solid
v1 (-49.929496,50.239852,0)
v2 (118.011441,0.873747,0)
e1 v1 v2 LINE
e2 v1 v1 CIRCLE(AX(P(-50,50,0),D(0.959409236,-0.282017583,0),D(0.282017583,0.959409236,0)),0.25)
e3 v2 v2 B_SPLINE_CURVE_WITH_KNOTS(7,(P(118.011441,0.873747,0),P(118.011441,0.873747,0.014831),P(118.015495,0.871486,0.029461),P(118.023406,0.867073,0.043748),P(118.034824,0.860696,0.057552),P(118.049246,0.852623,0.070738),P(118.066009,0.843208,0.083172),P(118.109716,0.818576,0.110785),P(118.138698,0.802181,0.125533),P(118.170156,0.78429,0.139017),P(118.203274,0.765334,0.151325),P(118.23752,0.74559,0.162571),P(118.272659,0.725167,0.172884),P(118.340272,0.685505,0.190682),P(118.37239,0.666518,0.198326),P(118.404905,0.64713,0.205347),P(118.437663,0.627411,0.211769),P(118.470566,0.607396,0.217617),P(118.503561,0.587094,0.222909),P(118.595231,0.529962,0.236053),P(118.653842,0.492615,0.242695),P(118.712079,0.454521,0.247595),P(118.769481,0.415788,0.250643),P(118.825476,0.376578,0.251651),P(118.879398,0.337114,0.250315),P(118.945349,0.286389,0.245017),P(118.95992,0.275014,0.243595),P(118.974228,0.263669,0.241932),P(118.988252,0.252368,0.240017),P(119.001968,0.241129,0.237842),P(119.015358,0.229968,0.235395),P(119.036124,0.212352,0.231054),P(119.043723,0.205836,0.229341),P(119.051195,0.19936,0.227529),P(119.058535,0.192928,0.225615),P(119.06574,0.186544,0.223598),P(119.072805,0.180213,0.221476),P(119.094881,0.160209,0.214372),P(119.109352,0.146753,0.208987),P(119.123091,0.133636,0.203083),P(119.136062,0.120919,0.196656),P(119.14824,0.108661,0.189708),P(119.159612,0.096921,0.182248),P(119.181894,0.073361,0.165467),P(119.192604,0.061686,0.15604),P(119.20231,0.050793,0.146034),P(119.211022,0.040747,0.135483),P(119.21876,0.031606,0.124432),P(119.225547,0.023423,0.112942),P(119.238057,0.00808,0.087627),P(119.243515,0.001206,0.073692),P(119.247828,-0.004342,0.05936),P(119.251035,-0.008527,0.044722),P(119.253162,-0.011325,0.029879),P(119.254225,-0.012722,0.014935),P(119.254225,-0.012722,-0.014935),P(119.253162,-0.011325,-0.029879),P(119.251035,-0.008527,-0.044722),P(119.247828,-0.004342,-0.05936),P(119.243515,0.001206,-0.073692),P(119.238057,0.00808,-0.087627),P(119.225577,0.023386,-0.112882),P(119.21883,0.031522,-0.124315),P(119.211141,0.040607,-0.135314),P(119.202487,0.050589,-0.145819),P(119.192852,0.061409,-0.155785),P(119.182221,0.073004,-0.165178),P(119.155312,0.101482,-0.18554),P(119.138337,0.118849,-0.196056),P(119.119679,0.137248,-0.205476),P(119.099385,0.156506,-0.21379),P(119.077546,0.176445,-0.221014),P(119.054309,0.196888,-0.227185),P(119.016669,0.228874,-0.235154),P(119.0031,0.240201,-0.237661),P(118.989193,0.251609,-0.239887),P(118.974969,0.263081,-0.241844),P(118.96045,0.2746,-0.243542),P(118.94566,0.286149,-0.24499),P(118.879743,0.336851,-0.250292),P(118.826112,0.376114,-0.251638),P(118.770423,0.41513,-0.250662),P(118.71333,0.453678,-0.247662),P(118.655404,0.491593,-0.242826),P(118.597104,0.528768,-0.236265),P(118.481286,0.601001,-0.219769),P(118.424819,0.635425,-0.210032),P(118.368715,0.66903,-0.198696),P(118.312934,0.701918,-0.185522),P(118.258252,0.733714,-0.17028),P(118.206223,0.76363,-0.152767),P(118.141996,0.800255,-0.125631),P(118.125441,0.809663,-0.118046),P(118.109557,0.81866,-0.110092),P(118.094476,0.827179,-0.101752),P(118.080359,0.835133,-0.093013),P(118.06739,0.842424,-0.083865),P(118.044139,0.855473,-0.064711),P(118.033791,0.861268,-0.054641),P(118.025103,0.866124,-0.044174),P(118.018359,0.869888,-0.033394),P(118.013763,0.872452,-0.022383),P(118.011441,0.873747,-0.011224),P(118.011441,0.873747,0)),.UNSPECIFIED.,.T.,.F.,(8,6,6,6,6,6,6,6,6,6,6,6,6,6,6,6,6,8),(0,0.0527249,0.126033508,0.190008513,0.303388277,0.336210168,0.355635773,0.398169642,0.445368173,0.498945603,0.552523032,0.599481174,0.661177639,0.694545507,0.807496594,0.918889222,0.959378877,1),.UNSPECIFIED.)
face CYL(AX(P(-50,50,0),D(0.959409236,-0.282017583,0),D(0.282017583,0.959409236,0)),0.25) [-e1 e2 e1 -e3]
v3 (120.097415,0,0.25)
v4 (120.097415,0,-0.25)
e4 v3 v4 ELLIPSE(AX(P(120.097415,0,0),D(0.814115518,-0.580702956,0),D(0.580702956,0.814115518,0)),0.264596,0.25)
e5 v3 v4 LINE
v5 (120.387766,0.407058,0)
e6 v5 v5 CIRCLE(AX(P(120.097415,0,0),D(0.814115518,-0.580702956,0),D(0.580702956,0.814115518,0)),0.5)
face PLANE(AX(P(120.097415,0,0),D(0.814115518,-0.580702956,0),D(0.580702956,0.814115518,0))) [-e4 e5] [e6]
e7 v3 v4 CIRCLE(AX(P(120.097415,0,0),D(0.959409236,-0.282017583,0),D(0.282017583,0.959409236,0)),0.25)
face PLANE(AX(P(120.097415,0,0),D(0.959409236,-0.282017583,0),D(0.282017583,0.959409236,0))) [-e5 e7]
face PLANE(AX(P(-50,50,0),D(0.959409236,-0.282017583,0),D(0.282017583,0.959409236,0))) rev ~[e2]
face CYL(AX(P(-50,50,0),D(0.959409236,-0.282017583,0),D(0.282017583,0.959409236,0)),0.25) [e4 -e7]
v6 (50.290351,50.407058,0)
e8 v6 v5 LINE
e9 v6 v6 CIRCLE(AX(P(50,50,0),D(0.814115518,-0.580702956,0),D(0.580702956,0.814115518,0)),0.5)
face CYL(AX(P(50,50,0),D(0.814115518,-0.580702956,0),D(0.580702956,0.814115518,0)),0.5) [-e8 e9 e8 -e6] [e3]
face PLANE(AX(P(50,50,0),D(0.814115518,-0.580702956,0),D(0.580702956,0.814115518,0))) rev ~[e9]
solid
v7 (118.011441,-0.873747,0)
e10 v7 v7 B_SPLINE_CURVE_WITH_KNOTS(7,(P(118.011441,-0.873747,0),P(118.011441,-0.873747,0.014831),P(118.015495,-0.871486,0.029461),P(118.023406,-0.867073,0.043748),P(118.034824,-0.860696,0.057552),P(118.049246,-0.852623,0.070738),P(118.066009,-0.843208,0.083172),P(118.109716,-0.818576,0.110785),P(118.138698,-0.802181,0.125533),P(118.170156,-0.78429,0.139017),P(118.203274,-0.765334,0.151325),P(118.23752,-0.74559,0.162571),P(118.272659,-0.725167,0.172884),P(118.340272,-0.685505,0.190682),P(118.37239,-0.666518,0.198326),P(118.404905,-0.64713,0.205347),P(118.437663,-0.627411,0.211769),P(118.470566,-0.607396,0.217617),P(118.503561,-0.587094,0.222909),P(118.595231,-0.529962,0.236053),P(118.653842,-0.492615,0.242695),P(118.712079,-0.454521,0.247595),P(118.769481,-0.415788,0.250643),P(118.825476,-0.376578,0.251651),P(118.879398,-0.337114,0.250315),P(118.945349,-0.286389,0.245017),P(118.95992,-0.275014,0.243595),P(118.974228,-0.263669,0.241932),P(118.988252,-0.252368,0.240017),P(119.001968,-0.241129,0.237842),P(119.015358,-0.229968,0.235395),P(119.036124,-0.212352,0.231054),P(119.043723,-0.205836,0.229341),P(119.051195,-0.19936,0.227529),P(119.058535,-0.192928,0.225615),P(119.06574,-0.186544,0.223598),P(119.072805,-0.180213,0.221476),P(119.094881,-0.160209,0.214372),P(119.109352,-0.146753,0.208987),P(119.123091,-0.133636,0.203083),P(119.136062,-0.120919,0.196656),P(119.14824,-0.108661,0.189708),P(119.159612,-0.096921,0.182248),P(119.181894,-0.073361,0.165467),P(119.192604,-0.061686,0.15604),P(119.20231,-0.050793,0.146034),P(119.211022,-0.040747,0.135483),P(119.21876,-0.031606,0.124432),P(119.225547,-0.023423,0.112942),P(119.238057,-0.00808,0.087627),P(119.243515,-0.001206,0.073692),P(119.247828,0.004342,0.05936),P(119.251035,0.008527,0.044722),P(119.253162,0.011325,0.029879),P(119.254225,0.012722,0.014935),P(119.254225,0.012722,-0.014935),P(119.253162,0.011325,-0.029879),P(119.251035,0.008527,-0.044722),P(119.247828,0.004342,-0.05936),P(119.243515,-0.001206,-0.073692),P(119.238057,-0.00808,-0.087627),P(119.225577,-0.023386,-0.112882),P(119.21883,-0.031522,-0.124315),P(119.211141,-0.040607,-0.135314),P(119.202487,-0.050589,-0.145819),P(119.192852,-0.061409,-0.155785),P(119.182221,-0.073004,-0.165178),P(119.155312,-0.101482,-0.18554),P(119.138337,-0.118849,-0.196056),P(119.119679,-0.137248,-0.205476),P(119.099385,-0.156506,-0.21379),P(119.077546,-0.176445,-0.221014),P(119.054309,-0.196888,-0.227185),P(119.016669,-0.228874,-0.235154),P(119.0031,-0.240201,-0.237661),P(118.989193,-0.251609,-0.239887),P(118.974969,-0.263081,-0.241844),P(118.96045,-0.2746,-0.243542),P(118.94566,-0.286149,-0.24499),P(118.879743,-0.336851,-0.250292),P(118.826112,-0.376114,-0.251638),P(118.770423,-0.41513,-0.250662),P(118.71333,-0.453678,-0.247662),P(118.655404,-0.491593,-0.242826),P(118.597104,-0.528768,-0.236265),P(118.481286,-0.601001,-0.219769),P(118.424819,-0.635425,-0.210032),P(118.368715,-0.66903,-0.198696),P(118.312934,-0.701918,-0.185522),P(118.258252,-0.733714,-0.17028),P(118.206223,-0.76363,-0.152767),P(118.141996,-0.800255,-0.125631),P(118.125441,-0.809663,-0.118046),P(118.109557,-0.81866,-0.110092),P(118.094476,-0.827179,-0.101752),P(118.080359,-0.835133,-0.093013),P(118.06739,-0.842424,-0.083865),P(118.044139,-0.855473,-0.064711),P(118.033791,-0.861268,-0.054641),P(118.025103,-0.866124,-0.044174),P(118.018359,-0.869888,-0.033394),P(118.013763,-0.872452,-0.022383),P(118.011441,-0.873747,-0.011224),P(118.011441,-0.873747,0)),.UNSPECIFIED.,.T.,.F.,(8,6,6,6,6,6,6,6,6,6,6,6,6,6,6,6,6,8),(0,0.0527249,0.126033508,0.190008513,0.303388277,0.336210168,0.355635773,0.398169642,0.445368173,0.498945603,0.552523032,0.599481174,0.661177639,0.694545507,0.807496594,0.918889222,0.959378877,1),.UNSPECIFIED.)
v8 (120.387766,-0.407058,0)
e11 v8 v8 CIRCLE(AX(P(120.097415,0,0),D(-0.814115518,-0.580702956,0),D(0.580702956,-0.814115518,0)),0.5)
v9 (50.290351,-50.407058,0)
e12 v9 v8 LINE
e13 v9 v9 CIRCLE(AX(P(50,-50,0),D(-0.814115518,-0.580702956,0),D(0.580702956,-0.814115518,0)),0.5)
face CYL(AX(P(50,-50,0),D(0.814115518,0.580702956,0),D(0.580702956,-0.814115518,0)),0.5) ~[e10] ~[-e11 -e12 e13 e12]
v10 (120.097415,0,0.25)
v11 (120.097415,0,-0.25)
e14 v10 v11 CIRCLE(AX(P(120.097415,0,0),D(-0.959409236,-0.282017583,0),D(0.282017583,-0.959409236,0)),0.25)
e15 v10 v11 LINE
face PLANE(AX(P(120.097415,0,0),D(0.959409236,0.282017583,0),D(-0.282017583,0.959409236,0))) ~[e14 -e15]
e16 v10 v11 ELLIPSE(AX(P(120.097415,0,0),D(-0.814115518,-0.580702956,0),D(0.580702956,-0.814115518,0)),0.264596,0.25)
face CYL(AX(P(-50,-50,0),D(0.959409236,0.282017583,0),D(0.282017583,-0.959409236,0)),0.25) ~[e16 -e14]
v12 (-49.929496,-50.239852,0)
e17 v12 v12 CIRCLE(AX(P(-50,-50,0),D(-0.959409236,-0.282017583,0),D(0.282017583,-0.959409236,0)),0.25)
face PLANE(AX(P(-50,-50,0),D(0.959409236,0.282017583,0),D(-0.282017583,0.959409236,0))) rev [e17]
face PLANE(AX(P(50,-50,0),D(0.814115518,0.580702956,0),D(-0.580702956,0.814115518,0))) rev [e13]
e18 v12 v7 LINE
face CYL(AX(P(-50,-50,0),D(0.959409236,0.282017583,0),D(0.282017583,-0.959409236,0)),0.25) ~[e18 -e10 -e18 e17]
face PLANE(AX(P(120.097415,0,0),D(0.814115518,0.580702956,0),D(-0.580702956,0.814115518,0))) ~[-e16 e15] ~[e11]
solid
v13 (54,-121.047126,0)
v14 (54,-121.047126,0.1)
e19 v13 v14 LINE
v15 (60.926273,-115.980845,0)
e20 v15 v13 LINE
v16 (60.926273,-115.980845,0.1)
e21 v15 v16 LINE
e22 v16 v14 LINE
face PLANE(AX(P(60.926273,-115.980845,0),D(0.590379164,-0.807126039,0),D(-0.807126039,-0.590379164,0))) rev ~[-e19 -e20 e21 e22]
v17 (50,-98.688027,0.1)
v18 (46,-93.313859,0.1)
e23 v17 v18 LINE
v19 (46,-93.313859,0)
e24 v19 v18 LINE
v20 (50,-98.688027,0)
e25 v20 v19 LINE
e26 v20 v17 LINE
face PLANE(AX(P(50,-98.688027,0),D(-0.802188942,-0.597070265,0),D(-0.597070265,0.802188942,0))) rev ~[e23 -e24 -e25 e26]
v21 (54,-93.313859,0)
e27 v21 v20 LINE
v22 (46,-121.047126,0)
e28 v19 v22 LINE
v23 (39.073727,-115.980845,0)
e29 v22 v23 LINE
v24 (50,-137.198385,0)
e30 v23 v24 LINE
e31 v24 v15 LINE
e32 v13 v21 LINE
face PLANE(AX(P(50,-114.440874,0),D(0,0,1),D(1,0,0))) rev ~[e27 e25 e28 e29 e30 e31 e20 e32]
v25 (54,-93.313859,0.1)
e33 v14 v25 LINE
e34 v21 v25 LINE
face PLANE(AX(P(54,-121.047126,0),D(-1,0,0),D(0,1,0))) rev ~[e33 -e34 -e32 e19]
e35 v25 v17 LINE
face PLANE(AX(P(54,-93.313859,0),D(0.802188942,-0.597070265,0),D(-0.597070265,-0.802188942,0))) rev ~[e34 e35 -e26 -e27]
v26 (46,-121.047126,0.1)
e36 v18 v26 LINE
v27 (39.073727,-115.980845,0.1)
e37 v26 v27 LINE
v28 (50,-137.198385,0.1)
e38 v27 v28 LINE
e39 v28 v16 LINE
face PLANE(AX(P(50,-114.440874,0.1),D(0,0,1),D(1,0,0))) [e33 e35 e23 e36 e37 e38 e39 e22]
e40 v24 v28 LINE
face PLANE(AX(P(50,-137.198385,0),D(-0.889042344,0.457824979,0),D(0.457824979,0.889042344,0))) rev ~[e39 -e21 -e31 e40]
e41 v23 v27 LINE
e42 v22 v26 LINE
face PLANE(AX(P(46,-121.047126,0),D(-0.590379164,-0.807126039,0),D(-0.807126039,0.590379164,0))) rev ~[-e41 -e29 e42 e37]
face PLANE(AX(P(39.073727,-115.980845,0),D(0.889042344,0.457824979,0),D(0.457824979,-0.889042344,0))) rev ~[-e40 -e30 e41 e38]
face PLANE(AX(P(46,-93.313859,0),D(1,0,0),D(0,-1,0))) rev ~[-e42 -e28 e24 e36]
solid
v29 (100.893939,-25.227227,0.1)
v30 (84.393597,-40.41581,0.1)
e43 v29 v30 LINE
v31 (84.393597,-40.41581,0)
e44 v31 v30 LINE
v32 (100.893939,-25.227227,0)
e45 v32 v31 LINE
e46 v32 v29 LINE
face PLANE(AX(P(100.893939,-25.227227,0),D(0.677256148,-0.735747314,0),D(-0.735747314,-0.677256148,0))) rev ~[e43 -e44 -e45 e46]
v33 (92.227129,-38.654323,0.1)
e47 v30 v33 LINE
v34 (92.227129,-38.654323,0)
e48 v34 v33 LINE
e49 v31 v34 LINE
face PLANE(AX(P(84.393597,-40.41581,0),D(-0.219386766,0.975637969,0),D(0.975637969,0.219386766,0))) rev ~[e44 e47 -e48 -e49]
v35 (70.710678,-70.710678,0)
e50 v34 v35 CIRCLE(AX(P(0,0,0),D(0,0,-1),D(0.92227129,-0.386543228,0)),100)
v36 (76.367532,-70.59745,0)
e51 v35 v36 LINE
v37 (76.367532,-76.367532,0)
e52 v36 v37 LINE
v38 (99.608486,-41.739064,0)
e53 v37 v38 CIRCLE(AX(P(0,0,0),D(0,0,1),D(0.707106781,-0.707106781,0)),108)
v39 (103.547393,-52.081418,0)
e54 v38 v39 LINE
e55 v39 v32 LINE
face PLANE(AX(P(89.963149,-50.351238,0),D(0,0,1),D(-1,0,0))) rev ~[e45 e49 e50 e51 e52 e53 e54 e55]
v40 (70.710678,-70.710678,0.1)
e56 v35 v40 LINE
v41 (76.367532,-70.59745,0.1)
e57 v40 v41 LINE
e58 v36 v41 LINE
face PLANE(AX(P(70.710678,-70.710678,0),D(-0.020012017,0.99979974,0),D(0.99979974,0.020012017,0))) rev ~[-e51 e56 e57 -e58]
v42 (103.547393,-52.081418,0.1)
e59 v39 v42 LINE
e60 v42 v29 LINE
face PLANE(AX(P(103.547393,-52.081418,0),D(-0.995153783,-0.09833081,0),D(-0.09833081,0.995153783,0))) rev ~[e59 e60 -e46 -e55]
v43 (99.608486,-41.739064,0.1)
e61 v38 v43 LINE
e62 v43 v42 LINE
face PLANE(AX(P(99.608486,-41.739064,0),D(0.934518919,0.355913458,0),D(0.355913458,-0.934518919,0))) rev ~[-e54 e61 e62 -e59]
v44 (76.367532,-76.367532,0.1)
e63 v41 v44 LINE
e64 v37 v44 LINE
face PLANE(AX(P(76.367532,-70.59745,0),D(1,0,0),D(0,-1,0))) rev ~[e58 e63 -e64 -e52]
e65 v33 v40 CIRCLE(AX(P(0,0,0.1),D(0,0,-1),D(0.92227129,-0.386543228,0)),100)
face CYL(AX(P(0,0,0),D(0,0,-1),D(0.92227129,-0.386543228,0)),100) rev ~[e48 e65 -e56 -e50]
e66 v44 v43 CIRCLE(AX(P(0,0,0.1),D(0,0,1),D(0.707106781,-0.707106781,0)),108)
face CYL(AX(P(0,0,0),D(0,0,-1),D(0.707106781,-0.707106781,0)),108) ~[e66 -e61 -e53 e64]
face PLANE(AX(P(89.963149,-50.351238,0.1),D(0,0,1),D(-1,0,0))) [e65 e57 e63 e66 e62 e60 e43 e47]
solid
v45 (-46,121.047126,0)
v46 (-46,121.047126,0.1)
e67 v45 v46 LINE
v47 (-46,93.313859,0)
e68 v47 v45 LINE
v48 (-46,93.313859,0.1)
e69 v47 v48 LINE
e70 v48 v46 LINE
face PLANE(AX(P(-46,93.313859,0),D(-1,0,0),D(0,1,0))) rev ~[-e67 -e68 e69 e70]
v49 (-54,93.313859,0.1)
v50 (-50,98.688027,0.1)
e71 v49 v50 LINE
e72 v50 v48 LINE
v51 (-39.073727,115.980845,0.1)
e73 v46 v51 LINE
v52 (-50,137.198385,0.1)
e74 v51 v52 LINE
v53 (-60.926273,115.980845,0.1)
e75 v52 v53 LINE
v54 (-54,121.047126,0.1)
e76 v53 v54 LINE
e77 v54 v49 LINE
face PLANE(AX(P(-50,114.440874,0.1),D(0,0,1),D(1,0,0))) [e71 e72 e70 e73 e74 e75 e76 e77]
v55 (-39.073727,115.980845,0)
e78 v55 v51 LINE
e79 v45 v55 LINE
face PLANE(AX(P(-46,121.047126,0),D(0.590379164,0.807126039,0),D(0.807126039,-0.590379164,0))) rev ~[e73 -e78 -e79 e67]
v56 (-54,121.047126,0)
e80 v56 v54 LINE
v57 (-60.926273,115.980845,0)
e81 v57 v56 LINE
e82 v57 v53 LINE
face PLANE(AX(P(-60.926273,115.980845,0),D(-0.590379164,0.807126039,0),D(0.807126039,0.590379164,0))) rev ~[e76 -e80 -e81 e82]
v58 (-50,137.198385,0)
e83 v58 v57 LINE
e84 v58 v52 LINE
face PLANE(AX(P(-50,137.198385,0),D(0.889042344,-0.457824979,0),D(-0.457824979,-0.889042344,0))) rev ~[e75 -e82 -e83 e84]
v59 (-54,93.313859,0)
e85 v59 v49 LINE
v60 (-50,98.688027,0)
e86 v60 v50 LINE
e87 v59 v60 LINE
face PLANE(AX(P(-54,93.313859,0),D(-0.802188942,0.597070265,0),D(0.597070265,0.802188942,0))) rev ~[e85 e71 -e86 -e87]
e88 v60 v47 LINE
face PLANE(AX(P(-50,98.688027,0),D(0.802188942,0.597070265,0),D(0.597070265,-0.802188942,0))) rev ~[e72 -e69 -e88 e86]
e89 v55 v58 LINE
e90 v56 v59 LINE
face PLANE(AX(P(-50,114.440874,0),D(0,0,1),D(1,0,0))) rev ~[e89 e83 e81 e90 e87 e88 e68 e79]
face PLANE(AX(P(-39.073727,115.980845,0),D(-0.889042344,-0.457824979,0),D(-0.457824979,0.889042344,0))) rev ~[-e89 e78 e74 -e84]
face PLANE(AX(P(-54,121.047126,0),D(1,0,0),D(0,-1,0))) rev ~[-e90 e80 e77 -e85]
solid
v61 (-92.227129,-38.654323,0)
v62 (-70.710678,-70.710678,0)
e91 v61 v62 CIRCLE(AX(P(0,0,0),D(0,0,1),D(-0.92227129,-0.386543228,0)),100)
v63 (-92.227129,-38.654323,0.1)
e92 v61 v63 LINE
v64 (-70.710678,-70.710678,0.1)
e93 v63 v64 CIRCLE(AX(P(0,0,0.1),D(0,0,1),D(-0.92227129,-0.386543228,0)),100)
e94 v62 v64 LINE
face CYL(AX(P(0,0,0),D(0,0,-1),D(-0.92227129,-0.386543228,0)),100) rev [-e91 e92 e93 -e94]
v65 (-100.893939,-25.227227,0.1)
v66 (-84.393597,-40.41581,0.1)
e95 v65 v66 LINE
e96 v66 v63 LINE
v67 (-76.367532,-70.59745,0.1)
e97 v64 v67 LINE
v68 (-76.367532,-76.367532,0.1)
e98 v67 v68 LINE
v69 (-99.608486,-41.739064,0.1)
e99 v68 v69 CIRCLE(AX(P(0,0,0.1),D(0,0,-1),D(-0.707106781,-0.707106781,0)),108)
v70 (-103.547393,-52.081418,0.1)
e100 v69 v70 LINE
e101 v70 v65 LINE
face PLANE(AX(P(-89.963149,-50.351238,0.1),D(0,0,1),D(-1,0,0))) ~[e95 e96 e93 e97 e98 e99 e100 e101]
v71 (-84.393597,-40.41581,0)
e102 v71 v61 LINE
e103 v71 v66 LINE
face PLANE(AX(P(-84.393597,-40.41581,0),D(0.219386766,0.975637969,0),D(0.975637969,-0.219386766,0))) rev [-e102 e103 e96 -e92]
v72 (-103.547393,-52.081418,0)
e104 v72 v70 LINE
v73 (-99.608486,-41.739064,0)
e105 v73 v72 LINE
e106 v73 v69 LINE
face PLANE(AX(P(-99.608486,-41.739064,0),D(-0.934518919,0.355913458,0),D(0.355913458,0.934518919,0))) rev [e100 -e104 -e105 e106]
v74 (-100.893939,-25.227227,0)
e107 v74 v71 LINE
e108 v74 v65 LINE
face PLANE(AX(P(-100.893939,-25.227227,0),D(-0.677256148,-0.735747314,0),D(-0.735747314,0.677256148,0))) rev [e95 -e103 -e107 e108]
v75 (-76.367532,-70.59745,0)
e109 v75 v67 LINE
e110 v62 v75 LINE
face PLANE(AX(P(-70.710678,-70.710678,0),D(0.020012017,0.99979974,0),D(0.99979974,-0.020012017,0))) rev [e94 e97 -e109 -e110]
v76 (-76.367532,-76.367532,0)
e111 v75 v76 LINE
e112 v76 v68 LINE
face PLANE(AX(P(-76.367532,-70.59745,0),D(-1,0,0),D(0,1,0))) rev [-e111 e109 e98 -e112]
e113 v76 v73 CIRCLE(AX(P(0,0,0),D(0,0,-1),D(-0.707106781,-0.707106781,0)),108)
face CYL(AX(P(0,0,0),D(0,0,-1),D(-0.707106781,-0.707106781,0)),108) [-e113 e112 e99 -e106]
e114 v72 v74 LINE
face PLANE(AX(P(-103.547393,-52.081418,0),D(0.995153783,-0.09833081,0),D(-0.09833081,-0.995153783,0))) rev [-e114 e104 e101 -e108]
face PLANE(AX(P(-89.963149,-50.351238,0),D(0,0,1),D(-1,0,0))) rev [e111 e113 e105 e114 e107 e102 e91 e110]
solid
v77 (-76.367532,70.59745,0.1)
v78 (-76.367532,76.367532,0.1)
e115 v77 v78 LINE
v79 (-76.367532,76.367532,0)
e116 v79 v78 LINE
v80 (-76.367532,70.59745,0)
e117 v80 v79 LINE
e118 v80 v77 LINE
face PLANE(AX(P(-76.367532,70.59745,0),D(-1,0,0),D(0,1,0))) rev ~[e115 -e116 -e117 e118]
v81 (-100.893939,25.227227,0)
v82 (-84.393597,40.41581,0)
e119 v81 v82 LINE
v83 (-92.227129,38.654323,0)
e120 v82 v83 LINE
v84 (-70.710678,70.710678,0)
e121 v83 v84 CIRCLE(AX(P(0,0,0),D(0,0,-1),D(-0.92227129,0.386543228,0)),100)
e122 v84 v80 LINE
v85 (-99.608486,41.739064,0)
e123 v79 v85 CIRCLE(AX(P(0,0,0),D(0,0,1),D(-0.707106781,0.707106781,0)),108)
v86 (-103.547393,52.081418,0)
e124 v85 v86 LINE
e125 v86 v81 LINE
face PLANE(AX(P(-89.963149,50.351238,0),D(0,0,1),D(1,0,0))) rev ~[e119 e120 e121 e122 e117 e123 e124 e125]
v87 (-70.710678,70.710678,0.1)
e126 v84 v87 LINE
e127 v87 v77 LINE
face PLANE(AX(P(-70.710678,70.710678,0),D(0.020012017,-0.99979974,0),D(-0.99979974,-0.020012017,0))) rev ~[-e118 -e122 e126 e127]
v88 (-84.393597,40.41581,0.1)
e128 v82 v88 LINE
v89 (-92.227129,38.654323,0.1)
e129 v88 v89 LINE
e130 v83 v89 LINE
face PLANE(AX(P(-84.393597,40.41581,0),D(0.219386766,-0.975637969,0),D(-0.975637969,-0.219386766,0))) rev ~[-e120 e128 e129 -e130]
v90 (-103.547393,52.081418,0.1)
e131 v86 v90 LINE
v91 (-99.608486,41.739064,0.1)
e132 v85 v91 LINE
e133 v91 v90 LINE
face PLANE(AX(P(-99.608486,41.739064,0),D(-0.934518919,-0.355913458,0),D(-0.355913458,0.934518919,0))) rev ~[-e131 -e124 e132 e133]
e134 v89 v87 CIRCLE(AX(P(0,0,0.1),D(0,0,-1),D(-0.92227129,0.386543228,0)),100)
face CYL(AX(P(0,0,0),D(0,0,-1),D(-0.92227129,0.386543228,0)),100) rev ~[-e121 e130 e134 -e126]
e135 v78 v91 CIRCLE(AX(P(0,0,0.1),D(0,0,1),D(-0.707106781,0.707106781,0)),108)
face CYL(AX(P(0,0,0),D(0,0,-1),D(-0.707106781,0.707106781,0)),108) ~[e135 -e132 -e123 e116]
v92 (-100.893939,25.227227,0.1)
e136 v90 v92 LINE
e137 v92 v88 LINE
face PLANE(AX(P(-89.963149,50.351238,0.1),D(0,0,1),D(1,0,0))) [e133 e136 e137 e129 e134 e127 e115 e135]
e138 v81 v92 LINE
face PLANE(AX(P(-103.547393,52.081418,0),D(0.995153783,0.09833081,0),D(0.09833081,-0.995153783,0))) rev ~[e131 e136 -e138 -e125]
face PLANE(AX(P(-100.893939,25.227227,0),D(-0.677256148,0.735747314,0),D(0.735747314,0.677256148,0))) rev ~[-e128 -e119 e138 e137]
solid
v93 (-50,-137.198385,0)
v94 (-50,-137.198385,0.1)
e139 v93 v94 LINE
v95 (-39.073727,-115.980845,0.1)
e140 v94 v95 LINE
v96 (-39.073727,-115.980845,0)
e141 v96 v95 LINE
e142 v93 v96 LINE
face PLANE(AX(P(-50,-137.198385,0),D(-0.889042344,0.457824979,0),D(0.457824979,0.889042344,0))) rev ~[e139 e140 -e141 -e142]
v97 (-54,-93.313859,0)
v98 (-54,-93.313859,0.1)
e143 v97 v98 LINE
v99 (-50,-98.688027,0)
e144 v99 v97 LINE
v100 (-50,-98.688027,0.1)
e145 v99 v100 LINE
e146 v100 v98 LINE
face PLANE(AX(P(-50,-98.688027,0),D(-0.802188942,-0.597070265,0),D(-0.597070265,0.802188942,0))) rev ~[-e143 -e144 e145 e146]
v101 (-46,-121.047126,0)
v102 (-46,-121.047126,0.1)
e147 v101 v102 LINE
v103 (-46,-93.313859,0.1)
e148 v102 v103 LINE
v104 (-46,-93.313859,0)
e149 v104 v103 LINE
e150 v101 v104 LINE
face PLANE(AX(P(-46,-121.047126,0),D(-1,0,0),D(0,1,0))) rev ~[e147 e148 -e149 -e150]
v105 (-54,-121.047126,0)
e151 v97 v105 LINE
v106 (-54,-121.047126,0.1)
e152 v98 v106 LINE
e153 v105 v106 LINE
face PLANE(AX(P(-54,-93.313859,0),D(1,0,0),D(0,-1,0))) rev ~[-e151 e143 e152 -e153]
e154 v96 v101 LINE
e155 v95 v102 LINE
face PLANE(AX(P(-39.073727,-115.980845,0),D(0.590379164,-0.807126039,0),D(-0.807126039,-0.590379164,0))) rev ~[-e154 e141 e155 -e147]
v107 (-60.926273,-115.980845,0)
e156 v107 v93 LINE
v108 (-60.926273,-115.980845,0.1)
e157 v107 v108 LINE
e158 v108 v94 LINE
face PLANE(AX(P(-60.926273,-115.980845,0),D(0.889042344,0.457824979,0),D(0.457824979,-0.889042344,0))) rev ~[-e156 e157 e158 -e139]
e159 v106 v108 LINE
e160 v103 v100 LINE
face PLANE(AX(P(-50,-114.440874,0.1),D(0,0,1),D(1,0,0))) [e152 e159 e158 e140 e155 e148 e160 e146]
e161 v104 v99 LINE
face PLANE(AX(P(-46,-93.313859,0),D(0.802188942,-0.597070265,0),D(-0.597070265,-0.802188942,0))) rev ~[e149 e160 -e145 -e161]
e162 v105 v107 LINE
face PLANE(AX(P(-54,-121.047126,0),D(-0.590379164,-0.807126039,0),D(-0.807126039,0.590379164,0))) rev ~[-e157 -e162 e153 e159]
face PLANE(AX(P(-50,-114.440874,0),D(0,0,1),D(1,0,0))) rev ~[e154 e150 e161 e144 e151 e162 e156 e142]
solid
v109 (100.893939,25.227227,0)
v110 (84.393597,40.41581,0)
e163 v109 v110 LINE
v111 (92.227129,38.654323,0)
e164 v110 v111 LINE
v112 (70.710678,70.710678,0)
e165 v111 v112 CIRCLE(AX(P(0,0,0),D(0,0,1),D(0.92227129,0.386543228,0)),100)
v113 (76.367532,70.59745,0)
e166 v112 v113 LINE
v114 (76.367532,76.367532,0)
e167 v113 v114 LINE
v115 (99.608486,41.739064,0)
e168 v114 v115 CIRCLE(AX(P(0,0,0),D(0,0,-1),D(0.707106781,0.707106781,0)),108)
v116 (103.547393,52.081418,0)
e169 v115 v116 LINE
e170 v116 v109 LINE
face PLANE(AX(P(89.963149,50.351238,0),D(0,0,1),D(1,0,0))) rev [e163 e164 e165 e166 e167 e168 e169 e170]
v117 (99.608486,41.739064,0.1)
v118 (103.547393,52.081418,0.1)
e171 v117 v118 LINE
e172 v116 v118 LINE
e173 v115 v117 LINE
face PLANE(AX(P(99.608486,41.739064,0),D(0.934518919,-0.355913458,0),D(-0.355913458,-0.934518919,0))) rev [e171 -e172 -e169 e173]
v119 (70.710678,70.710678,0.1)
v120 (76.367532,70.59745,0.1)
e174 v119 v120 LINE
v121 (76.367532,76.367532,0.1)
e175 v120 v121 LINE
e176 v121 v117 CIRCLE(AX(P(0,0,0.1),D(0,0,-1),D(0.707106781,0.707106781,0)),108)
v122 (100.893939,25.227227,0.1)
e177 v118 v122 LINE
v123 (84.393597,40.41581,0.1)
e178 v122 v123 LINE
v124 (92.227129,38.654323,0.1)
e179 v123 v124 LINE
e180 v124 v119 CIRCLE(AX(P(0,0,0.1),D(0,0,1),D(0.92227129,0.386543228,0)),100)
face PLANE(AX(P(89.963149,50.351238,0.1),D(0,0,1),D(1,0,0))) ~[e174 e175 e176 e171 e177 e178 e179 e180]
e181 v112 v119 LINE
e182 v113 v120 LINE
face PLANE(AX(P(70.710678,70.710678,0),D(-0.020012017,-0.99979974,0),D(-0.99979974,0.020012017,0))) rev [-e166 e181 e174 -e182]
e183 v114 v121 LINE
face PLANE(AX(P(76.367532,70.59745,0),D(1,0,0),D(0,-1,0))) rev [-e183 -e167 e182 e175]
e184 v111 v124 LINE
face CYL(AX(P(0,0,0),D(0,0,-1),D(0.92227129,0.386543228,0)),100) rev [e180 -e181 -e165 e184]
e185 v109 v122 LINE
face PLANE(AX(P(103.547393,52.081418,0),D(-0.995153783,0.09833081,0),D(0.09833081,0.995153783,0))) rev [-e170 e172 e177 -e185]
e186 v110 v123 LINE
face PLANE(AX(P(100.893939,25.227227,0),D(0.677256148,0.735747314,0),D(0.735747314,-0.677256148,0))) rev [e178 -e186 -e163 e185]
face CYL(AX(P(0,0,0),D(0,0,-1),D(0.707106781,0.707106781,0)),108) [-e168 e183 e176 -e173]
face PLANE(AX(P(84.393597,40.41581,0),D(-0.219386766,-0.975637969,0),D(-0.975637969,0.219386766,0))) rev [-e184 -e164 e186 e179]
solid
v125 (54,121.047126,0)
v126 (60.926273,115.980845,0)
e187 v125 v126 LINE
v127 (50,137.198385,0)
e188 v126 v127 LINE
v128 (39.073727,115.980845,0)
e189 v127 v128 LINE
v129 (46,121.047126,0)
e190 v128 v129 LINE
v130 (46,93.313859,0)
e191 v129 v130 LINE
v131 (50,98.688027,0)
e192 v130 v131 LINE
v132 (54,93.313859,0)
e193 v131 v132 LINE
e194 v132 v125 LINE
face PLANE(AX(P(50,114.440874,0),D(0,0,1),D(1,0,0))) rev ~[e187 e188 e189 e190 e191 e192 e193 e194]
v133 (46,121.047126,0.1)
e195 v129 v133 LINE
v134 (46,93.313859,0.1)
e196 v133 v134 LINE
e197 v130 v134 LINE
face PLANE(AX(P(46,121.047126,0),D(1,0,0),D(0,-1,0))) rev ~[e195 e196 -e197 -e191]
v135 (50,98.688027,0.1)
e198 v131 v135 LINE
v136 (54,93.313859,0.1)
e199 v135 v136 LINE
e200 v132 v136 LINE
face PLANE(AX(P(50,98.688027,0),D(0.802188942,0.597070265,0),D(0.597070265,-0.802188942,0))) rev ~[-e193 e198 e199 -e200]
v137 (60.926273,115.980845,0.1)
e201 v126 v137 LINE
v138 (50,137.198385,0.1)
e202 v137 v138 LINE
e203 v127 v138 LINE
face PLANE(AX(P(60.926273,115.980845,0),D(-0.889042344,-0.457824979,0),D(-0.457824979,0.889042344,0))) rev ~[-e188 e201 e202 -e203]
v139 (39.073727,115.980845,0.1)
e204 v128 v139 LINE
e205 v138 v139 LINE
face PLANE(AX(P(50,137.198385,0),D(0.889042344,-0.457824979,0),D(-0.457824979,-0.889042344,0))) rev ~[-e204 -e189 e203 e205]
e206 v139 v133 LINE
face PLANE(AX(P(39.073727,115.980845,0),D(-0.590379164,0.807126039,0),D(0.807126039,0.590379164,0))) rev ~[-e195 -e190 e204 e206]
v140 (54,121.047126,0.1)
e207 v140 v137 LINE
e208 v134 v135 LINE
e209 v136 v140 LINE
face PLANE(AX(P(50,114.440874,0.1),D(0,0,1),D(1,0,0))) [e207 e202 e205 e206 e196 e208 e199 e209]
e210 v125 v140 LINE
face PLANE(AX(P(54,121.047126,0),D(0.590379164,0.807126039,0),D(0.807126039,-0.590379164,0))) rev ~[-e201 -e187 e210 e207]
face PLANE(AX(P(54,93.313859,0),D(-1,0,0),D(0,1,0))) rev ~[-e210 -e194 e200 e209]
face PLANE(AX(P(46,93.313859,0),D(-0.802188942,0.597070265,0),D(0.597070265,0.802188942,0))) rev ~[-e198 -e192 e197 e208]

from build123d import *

# Parameters (mm, degrees)
EXTRUDE_1_DEPTH   = 0.1
SWEEP_1_PROFILE_R = 0.25
SWEEP_3_PROFILE_R = 0.5
EXTRUDE_2_DEPTH   = 0.1
EXTRUDE_2_2_DEPTH = 0.1
EXTRUDE_2_3_DEPTH = 0.1
EXTRUDE_2_4_DEPTH = 0.1


with BuildPart() as part:
    # 草图1 → 凸台-拉伸1 (new body)
    with BuildSketch(Plane.XY):
        with BuildLine():
            Line((-76.367532368, 70.597450379), (-76.367532368, 76.367532368))
            ThreePointArc((-76.367532368, 76.367532368), (-89.675372689, 60.185775172), (-99.608486096, 41.739064409))
            Line((-99.608486096, 41.739064409), (-103.547392889, 52.081418243))
            Line((-103.547392889, 52.081418243), (-100.893939345, 25.227227425))
            Line((-100.893939345, 25.227227425), (-84.393596676, 40.415809557))
            Line((-84.393596676, 40.415809557), (-92.227129015, 38.654322834))
            ThreePointArc((-92.227129015, 38.654322834), (-83.030625235, 55.730739033), (-70.710678119, 70.710678119))
            Line((-70.710678119, 70.710678119), (-76.367532368, 70.597450379))
        make_face()
    extrude(amount=EXTRUDE_1_DEPTH)


with BuildPart() as body_2:
    # 扫描1: sweep along a path in 草图2
    with BuildLine(Plane.XY) as sweep_1_path:
        Line((-50, 50), (120.097414724, 0))
    # 扫描1 profile (on start of the path) → 扫描1 (sweep)
    with BuildSketch(Plane(origin=(-50, 50, 0), x_dir=(0.28201758324220955, 0.9594092363231779, 0), z_dir=(0.9594092363231779, -0.28201758324220955, 0))):
        Circle(SWEEP_1_PROFILE_R)
    sweep(path=sweep_1_path.line)

    # 扫描3: sweep along a path in 草图10
    with BuildLine(Plane.XY) as sweep_3_path:
        Line((50, 50), (120.097414724, 0))
    # 扫描3 profile (on start of the path) → 扫描3 (sweep)
    with BuildSketch(Plane(origin=(50, 50, 0), x_dir=(0.5807029557109349, 0.8141155183563227, 0), z_dir=(0.8141155183563227, -0.5807029557109349, 0))):
        Circle(SWEEP_3_PROFILE_R)
    sweep(path=sweep_3_path.line)


with BuildPart() as body_3:
    # 镜向3: mirrored copy
    add(part.part.mirror(Plane.ZX))


with BuildPart() as body_4:
    # Mirror 3 2: mirrored copy
    add(body_2.part.mirror(Plane.ZX))


with BuildPart() as body_5:
    # 镜向4: mirrored copy
    add(part.part.mirror(Plane(origin=(0, 0, 0), x_dir=(0, 0, 1), z_dir=(1, 0, 0))))


with BuildPart() as body_6:
    # Mirror 4 2: mirrored copy
    add(body_3.part.mirror(Plane(origin=(0, 0, 0), x_dir=(0, 0, 1), z_dir=(1, 0, 0))))


with BuildPart() as body_7:
    # 草图27 → 凸台-拉伸2 (new body)
    with BuildSketch(Plane.XY):
        Polygon((-50, 137.198385156), (-60.926273457, 115.98084523), (-54, 121.047126497), (-54, 93.313859271), (-50, 98.688027033), (-46, 93.313859271), (-46, 121.047126497), (-39.073726543, 115.98084523), align=None)
    extrude(amount=EXTRUDE_2_DEPTH)


with BuildPart() as body_8:
    # 草图27 → Extrude 2 2 (new body)
    with BuildSketch(Plane.XY):
        Polygon((50, 137.198385156), (39.073726543, 115.98084523), (46, 121.047126497), (46, 93.313859271), (50, 98.688027033), (54, 93.313859271), (54, 121.047126497), (60.926273457, 115.98084523), align=None)
    extrude(amount=EXTRUDE_2_2_DEPTH)


with BuildPart() as body_9:
    # 草图27 → Extrude 2 3 (new body)
    with BuildSketch(Plane.XY):
        Polygon((50, -137.198385156), (60.926273457, -115.98084523), (54, -121.047126497), (54, -93.313859271), (50, -98.688027033), (46, -93.313859271), (46, -121.047126497), (39.073726543, -115.98084523), align=None)
    extrude(amount=EXTRUDE_2_3_DEPTH)


with BuildPart() as body_10:
    # 草图27 → Extrude 2 4 (new body)
    with BuildSketch(Plane.XY):
        Polygon((-50, -137.198385156), (-39.073726543, -115.98084523), (-46, -121.047126497), (-46, -93.313859271), (-50, -98.688027033), (-54, -93.313859271), (-54, -121.047126497), (-60.926273457, -115.98084523), align=None)
    extrude(amount=EXTRUDE_2_4_DEPTH)


solid = Compound([part.part, body_2.part, body_3.part, body_4.part, body_5.part, body_6.part, body_7.part, body_8.part, body_9.part, body_10.part])
